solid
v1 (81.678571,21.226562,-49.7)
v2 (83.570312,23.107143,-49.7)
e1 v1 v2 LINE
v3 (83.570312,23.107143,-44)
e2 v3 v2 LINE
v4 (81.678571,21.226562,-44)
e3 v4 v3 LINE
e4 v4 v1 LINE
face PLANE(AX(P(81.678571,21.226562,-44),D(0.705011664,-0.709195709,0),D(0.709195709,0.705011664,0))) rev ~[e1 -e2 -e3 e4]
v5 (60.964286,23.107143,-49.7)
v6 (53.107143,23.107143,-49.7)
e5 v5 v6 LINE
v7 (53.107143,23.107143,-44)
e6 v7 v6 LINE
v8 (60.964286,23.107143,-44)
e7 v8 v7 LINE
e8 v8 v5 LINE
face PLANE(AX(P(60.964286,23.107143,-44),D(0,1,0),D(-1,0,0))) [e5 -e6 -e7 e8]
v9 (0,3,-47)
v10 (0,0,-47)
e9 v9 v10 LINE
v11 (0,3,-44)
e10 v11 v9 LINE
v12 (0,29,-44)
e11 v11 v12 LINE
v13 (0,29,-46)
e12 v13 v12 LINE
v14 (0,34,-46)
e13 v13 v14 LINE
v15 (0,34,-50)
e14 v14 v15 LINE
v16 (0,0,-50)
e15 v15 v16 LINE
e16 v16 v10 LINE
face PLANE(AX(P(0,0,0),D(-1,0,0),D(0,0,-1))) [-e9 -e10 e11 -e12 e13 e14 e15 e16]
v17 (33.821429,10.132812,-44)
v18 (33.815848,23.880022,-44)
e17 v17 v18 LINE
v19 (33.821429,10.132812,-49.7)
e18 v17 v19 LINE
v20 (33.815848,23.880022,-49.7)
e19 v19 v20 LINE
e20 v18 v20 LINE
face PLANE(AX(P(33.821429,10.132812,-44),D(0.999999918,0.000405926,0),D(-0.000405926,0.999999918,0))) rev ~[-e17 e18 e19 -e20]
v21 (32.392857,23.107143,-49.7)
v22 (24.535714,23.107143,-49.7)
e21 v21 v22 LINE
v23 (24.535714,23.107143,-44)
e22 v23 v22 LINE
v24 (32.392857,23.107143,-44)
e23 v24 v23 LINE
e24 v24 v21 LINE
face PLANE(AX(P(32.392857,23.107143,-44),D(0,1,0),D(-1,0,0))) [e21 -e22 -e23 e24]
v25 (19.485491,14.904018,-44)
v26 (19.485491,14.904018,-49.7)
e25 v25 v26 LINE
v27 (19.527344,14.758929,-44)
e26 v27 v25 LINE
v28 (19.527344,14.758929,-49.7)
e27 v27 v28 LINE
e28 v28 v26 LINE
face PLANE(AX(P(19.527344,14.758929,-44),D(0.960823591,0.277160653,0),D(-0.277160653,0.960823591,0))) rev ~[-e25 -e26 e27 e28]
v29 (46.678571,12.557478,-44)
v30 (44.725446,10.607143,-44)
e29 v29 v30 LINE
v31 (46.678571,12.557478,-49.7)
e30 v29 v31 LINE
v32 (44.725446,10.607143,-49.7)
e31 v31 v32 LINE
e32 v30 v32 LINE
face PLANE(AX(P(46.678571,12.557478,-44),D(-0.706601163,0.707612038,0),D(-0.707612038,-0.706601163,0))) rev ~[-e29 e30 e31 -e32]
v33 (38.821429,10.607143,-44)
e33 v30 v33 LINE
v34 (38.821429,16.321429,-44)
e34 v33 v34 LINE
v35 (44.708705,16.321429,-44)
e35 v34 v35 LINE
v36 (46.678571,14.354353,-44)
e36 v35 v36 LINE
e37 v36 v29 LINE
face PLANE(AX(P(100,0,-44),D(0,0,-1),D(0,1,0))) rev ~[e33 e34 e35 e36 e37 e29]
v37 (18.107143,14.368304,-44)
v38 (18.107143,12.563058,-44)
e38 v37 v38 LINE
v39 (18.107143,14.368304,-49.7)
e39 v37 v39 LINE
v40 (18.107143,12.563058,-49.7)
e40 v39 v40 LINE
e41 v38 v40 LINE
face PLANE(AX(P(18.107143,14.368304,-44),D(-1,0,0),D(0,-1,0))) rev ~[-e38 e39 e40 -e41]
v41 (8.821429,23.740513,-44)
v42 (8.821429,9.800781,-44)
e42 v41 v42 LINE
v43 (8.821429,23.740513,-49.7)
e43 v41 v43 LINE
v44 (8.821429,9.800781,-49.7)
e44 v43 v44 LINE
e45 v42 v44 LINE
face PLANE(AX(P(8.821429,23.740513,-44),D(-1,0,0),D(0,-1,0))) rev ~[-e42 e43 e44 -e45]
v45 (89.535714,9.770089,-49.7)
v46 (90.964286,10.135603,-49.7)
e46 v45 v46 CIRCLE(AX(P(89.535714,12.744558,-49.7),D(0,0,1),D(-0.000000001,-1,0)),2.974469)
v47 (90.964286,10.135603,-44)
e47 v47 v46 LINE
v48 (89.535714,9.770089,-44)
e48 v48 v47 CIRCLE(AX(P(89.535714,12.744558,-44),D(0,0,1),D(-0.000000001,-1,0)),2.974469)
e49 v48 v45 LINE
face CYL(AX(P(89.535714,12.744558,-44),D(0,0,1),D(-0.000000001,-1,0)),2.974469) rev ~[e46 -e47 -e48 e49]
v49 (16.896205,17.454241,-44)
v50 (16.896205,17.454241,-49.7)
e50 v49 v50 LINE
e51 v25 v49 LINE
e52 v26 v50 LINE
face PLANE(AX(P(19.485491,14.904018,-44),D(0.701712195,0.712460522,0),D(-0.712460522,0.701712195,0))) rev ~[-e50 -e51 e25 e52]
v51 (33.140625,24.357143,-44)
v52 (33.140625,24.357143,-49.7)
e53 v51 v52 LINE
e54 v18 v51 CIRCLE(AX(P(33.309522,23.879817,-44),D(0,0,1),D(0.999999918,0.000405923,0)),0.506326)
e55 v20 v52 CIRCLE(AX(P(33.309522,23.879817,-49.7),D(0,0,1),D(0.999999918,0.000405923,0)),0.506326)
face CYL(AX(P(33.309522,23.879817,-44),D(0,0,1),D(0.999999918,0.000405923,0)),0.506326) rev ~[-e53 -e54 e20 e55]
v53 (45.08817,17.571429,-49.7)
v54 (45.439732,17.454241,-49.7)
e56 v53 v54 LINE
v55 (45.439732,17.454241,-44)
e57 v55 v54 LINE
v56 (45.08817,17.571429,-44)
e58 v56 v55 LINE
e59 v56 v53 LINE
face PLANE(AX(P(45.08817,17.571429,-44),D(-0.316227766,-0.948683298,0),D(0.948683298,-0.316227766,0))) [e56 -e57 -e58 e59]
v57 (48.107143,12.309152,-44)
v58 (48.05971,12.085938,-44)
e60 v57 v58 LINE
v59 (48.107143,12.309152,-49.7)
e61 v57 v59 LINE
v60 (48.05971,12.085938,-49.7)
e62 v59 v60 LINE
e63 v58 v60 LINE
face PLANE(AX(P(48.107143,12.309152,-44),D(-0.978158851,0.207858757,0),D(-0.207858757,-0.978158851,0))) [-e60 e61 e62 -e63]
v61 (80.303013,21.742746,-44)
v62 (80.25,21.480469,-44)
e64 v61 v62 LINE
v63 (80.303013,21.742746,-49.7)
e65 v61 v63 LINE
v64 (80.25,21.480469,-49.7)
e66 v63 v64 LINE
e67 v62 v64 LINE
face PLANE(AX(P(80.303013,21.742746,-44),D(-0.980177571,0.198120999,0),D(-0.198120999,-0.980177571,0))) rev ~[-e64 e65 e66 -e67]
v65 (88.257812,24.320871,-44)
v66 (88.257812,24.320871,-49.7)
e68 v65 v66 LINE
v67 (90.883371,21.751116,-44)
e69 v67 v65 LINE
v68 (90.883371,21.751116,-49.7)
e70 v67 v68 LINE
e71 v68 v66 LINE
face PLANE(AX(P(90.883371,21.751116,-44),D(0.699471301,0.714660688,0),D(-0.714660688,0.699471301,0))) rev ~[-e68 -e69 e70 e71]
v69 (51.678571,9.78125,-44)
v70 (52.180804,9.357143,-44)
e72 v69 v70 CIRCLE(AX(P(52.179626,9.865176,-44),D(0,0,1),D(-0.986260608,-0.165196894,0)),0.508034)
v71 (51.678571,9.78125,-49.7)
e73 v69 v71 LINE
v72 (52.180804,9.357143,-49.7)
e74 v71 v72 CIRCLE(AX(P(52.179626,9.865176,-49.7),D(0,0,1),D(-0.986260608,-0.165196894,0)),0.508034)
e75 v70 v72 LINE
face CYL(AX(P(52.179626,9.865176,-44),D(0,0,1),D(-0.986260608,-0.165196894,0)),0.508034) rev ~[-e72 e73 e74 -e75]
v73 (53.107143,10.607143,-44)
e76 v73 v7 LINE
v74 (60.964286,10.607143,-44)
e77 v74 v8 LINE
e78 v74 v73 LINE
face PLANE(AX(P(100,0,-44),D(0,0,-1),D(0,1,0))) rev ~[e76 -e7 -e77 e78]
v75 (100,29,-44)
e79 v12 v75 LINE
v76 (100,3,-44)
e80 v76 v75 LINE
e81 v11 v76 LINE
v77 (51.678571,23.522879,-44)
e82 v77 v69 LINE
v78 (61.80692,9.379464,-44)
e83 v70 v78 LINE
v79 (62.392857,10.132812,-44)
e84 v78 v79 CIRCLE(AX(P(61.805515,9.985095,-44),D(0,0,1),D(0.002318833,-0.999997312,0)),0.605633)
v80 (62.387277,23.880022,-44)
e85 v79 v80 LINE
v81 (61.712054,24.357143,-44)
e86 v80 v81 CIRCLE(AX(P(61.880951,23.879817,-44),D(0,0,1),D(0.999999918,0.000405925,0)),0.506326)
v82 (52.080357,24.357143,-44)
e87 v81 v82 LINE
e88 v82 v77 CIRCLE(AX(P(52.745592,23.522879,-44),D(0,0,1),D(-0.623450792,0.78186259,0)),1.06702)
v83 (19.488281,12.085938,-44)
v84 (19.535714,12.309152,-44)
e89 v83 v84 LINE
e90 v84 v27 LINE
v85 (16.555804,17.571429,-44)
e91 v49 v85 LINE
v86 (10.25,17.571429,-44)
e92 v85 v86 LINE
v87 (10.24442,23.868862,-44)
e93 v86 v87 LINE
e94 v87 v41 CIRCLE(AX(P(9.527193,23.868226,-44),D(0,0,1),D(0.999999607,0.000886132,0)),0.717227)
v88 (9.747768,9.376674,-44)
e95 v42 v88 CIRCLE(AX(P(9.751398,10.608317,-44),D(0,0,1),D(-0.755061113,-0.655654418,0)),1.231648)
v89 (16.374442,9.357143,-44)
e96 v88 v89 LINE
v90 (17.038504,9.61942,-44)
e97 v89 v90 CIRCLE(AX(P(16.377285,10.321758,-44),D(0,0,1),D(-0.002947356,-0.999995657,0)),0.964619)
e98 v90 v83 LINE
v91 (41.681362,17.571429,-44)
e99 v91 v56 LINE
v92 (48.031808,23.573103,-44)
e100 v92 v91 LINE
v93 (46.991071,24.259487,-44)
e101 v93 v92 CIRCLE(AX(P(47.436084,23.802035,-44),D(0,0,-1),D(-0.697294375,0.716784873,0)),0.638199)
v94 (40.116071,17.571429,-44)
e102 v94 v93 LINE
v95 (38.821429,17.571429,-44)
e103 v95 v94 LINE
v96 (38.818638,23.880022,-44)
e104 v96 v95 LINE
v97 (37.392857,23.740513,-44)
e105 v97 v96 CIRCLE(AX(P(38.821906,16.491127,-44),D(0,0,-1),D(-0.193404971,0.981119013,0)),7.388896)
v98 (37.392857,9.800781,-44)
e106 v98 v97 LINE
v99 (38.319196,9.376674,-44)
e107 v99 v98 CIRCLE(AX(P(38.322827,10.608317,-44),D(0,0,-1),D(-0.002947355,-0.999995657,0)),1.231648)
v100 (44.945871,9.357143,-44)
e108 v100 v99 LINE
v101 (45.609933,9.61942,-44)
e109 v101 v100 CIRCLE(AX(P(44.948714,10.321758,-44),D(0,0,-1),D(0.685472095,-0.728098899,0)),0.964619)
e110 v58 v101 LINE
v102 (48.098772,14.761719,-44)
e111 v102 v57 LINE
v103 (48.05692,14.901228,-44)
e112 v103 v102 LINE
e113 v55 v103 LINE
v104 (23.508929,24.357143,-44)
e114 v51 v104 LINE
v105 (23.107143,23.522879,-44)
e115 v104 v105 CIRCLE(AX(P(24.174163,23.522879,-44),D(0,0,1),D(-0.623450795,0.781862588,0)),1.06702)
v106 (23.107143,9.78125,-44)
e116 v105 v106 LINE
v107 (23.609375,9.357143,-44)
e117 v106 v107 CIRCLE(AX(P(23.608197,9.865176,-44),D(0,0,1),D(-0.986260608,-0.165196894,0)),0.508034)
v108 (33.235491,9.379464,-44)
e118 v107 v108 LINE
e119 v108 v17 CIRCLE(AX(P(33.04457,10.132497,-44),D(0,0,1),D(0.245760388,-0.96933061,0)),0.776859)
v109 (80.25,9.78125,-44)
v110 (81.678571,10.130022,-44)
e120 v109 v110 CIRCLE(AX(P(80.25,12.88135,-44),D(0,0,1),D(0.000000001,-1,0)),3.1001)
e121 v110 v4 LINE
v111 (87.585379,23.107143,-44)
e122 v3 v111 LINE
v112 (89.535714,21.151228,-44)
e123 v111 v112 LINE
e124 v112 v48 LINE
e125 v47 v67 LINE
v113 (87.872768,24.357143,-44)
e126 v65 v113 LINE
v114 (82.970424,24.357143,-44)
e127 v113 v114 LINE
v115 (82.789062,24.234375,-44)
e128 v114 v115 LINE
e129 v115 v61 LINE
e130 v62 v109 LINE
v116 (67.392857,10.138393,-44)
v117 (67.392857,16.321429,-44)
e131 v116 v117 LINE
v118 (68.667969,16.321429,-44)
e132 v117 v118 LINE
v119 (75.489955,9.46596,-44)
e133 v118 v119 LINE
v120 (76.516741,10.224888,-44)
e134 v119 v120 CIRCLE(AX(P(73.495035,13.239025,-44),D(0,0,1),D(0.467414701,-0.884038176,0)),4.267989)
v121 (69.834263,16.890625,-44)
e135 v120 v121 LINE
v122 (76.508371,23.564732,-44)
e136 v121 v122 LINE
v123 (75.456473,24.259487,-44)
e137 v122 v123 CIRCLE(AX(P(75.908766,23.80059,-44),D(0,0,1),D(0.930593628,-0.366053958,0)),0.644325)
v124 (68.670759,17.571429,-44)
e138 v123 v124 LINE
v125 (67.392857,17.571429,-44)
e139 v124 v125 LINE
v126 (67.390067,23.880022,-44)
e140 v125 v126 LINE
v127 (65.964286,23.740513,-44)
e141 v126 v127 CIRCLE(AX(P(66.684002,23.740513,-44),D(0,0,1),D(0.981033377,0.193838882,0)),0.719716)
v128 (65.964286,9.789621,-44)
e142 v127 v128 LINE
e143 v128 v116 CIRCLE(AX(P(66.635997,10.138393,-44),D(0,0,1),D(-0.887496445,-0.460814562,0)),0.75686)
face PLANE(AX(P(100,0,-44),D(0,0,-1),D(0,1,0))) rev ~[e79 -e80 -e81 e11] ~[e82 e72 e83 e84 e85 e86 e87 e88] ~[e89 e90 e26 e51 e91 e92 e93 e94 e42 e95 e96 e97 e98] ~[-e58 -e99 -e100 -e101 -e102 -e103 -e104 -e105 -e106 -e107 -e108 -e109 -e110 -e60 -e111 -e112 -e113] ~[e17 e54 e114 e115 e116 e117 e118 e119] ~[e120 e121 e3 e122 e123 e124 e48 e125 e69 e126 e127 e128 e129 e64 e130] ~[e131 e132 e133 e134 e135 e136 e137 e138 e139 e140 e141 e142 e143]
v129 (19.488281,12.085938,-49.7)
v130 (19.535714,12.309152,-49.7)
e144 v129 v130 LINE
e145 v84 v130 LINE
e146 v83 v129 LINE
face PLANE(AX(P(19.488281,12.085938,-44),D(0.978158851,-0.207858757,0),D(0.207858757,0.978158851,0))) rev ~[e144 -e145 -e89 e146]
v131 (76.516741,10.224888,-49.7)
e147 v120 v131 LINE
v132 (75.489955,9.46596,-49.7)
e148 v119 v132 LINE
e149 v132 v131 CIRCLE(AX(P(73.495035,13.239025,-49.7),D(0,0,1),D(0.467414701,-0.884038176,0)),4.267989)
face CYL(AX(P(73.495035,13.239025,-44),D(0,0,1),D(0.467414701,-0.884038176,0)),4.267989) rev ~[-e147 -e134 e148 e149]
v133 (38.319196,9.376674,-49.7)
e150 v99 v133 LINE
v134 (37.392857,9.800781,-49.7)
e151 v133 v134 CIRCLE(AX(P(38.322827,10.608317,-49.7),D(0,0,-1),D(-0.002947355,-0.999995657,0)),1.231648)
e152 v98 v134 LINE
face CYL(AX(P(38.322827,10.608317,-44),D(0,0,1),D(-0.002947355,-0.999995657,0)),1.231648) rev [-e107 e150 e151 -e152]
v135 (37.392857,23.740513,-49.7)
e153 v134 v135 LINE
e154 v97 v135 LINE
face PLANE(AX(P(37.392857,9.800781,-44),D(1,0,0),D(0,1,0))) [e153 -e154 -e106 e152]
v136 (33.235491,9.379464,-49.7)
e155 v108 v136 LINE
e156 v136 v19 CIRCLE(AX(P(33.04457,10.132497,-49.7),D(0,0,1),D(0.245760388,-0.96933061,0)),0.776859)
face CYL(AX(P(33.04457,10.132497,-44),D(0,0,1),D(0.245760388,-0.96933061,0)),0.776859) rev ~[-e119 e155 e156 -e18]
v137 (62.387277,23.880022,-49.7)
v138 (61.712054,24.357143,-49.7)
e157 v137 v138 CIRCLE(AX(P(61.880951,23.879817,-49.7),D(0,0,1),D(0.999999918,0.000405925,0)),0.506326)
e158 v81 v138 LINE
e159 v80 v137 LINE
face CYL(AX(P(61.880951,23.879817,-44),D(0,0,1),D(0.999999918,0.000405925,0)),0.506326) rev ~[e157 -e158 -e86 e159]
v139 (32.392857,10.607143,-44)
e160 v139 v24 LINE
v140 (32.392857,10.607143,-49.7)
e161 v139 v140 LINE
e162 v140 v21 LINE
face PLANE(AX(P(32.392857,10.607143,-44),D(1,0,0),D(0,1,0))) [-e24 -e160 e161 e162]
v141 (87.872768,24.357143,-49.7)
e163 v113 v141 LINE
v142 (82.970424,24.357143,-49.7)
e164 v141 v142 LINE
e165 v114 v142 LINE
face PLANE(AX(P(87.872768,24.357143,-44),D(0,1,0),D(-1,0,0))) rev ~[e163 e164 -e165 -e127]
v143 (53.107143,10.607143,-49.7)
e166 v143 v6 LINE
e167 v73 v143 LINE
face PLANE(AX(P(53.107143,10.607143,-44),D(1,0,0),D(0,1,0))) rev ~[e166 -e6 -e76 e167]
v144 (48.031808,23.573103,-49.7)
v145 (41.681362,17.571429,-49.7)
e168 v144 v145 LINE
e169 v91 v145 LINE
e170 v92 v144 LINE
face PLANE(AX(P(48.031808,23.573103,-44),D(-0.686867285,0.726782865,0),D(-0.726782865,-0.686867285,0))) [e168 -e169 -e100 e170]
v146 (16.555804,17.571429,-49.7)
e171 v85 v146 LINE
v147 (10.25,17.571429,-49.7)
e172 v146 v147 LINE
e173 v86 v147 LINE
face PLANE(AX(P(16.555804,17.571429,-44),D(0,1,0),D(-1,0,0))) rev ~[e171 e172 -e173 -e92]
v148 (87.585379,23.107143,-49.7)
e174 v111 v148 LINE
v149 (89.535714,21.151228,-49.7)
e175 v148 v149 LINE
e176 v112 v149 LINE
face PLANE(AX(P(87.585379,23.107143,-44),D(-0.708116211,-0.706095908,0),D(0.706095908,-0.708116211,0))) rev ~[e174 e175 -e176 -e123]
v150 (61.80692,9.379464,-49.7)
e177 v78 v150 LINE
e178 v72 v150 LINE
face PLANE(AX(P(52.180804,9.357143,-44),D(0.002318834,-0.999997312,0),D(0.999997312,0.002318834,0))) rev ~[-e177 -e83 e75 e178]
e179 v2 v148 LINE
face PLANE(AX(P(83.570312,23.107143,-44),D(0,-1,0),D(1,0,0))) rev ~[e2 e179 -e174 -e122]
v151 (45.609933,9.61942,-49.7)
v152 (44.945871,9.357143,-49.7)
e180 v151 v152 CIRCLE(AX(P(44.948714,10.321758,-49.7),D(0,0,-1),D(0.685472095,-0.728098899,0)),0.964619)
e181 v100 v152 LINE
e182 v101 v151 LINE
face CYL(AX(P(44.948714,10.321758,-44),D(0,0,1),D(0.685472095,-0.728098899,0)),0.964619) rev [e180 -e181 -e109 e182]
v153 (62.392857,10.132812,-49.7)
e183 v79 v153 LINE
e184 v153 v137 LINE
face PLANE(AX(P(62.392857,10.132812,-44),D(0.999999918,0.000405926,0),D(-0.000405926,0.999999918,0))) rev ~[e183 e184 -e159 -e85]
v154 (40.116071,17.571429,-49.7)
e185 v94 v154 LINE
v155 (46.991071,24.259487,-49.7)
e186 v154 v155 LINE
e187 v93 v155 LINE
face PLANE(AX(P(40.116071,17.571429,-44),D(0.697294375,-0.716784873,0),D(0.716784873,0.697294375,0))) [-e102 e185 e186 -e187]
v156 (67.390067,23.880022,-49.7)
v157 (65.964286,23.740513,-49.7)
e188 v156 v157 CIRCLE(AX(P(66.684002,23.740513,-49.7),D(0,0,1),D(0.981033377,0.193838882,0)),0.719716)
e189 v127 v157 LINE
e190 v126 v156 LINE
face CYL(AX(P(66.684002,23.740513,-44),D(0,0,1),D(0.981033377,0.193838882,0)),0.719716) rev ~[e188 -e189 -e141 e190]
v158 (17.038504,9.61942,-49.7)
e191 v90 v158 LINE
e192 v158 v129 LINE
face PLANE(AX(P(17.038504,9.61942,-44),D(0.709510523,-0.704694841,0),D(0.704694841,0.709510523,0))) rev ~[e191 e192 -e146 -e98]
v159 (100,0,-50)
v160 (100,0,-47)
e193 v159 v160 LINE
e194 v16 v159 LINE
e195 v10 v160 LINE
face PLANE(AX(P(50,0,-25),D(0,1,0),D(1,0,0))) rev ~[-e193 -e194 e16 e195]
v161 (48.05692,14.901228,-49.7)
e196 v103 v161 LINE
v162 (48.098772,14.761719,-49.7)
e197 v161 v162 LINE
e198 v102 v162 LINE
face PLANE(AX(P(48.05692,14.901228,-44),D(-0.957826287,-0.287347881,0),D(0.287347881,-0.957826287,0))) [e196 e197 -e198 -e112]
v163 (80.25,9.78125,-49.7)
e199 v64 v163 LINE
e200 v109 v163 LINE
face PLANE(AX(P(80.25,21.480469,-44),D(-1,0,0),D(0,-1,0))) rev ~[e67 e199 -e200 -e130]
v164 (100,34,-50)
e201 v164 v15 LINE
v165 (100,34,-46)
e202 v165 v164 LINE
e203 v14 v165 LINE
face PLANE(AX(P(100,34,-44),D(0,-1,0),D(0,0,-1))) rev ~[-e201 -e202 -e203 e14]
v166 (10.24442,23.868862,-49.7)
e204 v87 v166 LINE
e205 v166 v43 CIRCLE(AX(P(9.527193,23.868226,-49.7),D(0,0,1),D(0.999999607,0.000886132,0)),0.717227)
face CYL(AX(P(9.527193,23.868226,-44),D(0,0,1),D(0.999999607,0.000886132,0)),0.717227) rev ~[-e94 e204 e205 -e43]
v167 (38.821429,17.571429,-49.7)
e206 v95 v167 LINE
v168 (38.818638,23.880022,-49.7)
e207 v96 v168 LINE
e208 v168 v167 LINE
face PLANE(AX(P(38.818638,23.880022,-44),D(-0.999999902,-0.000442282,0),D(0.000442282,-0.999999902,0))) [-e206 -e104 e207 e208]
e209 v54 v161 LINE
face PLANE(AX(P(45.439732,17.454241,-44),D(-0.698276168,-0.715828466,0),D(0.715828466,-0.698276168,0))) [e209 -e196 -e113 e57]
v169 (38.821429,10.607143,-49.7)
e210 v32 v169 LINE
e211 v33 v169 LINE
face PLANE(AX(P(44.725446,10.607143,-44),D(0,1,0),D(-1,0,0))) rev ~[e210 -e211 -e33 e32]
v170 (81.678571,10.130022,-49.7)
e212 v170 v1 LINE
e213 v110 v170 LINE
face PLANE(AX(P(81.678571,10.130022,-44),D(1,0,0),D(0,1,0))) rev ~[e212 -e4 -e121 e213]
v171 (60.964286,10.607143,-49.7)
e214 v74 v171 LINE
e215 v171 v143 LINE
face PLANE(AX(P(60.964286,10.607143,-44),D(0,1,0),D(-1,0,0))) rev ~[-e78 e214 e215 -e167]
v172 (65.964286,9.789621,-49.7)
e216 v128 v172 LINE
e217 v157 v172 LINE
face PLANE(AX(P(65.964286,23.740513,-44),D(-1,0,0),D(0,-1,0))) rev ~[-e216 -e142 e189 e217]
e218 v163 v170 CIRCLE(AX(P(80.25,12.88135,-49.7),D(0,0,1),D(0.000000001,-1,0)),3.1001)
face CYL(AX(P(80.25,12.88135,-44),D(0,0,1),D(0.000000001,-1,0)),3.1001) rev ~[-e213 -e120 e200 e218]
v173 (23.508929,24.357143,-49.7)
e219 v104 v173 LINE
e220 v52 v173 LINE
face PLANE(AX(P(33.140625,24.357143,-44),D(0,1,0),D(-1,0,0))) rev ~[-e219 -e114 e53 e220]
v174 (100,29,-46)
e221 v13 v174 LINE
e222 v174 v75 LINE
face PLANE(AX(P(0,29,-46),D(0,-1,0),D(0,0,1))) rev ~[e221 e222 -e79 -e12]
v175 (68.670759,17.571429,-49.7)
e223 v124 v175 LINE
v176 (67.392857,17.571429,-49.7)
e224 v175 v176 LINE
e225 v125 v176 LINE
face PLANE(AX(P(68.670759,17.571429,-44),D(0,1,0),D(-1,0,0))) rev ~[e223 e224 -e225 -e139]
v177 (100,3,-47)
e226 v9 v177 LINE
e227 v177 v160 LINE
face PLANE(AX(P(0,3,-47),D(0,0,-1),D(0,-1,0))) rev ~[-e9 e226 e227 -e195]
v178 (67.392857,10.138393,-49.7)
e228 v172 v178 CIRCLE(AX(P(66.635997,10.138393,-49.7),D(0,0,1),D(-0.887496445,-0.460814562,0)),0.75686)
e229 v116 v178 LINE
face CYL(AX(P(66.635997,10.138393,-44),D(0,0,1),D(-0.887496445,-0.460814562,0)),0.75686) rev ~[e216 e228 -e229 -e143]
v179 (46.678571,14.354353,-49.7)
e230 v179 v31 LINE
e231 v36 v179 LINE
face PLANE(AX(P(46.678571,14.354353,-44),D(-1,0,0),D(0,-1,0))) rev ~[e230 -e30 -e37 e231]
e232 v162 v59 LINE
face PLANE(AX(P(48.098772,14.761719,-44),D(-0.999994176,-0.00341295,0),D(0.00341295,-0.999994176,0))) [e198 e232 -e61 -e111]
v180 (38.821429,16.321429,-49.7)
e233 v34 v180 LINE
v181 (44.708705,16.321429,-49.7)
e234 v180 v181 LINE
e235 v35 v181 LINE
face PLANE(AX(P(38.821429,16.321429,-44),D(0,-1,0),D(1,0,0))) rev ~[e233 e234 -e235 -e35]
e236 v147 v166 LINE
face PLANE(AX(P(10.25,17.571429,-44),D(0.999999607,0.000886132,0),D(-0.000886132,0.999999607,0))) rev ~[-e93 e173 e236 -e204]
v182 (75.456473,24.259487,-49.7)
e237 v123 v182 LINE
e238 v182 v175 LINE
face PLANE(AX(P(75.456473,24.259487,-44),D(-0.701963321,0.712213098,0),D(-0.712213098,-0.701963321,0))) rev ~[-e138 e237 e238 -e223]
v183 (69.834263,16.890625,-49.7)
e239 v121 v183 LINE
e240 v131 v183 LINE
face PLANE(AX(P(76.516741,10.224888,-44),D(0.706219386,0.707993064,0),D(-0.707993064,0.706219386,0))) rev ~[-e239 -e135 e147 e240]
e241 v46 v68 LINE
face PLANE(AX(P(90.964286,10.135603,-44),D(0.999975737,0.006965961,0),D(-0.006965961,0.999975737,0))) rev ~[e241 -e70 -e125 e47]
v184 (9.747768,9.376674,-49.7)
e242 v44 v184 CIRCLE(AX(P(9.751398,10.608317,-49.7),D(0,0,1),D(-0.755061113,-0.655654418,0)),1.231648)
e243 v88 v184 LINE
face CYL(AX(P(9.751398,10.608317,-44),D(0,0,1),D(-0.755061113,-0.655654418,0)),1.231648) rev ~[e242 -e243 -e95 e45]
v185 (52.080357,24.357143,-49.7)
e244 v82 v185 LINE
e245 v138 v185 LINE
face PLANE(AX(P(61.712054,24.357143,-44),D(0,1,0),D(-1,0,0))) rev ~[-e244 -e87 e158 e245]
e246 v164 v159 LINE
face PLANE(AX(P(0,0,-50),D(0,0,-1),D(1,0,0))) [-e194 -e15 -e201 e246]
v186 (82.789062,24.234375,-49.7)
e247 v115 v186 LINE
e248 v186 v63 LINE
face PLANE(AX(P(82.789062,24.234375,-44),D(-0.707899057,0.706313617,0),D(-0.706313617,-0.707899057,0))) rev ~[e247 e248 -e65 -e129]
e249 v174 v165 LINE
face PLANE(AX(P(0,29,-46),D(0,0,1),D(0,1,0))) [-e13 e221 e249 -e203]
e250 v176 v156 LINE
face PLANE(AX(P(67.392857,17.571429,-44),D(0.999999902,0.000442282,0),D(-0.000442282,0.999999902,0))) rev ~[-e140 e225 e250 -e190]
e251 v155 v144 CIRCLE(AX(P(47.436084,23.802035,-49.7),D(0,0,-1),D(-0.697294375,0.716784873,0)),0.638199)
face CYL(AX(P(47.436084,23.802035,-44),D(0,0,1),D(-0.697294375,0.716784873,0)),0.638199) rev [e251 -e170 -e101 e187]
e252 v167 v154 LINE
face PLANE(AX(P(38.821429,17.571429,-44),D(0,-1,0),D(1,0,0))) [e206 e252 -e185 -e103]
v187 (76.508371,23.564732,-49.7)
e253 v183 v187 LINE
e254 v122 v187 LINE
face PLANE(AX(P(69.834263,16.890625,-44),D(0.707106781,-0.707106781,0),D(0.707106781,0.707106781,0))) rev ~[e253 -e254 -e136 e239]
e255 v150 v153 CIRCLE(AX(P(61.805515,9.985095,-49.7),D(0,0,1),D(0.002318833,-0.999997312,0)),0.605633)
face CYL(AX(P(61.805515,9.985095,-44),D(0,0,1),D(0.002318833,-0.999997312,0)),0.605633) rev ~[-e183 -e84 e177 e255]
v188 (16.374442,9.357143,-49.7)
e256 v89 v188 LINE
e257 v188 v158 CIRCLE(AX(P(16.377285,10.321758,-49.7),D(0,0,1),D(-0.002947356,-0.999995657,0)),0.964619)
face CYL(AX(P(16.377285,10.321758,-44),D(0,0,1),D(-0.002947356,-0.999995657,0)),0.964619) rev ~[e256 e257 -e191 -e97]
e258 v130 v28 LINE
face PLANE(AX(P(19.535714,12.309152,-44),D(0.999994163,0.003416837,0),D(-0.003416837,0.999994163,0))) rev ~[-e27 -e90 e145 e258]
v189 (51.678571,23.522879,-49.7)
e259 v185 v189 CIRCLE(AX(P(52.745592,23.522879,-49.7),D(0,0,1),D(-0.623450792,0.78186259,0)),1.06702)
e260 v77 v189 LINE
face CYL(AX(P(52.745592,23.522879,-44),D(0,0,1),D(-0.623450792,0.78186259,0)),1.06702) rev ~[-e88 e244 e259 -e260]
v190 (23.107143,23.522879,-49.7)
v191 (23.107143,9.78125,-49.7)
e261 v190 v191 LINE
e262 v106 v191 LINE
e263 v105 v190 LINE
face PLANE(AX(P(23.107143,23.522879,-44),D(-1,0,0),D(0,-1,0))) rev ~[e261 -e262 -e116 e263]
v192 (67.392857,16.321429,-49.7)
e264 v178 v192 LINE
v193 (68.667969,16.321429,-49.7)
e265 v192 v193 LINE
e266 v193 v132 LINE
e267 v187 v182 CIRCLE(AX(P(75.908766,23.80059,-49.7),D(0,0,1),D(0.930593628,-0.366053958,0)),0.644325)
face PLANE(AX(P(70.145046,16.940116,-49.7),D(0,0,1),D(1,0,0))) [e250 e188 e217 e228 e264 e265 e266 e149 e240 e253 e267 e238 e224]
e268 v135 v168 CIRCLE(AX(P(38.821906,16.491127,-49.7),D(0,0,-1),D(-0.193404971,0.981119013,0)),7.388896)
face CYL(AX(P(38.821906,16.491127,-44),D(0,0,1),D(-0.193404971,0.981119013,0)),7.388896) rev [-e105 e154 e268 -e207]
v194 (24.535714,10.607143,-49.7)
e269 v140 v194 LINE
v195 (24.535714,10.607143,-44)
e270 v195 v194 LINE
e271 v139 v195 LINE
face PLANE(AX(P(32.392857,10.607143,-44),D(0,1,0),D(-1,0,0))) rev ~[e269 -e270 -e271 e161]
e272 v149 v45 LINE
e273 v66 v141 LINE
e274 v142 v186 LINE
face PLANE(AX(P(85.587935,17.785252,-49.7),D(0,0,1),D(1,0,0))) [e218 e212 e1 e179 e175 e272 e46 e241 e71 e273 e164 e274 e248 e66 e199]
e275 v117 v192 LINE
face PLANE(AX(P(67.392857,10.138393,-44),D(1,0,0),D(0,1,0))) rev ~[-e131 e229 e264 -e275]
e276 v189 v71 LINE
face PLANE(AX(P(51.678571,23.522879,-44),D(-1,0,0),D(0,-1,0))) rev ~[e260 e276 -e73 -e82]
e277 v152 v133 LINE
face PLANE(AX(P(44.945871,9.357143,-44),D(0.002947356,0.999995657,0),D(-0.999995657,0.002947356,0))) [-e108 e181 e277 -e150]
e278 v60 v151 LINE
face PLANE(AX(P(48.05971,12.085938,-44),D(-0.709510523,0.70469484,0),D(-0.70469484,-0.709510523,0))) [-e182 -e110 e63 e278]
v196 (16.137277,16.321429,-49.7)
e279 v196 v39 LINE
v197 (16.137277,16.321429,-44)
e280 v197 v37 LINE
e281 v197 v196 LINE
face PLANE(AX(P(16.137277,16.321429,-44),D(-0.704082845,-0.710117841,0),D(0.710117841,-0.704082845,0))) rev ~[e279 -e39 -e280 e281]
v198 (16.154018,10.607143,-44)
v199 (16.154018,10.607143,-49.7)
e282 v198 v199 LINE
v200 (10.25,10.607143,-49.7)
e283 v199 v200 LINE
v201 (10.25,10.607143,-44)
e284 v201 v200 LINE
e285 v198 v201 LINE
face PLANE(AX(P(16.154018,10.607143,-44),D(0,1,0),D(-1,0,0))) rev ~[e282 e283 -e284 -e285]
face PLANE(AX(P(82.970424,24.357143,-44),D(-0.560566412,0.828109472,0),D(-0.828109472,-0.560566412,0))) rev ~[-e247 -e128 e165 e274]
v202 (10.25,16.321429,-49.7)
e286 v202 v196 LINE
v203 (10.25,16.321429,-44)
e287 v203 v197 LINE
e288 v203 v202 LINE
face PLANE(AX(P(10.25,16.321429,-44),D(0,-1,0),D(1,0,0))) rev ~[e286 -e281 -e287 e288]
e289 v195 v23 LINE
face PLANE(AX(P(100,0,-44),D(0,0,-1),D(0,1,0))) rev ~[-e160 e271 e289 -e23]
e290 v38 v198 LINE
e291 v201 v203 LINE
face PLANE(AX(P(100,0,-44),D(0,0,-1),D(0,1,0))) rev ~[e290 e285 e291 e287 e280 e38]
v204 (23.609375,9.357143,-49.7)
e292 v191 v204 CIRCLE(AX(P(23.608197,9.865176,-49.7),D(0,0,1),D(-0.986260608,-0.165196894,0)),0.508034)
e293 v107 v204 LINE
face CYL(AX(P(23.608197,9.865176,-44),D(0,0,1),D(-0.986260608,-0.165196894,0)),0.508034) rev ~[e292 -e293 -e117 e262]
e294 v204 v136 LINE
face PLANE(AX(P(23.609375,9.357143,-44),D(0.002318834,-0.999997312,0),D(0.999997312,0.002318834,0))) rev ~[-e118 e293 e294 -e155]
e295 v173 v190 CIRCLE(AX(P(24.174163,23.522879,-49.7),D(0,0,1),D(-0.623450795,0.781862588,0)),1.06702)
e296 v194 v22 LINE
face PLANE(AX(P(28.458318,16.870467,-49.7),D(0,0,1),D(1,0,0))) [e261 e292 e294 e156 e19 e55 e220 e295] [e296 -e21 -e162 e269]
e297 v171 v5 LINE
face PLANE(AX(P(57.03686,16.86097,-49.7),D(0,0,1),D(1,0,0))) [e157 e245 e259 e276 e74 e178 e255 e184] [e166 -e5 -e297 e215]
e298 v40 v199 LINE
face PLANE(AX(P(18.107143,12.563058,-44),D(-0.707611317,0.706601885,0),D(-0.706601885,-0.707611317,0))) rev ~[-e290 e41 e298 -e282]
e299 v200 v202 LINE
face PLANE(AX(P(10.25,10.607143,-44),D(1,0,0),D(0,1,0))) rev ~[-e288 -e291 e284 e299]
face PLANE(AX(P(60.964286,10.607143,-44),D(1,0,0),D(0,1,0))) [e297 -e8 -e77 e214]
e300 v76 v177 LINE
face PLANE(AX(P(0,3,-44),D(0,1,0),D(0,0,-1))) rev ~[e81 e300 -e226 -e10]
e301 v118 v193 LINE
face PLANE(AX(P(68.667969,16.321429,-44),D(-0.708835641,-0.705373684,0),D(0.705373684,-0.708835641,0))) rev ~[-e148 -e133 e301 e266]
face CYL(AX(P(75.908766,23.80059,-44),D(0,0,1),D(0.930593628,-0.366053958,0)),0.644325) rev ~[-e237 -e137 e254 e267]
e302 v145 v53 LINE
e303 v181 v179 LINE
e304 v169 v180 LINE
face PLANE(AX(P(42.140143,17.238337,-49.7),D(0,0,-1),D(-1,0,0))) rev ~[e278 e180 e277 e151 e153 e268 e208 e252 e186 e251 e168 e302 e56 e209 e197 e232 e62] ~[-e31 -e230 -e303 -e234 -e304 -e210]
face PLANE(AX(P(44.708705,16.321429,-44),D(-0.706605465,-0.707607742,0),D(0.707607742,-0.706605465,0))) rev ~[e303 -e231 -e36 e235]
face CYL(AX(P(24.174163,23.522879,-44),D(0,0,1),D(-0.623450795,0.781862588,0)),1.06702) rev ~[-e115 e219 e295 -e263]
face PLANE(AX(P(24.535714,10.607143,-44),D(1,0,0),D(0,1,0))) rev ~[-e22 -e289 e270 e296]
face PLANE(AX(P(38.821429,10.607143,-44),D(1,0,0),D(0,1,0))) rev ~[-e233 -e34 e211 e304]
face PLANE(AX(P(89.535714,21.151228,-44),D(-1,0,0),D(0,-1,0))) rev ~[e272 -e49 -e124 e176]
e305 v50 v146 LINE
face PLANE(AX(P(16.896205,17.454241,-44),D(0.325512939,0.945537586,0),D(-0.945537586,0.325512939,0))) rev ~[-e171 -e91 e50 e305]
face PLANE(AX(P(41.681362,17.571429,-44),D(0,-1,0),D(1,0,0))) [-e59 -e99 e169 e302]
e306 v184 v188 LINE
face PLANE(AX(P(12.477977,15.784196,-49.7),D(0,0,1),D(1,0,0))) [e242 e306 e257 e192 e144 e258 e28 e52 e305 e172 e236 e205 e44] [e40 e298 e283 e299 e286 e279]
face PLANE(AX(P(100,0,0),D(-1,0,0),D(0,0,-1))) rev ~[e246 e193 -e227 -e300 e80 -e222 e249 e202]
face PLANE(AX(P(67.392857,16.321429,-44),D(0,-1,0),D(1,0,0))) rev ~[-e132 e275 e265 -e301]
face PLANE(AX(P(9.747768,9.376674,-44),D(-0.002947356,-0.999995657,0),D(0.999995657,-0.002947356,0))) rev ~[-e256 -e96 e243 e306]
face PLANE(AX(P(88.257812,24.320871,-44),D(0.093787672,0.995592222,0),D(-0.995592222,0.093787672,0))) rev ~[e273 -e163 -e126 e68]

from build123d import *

# Parameters (mm, degrees)
SKETCH1_W           = 100
SKETCH1_H           = 50
BOSS_EXTRUDE1_DEPTH = 6
SKETCH2_W           = 10
SKETCH2_H           = 3
CUT_EXTRUDE1_DEPTH  = 101
SKETCH3_W           = 6
SKETCH3_H           = 34
BOSS_EXTRUDE2_DEPTH = 100
SKETCH4_W           = 2
SKETCH4_H           = 5
CUT_EXTRUDE2_DEPTH  = 101
SKETCH5_W           = 7.857142857
SKETCH5_H           = 12.5
CUT_EXTRUDE3_DEPTH  = 5.7
CUT_EXTRUDE4_DEPTH  = 5.5
CUT_EXTRUDE5_DEPTH  = 101.0000001


with BuildPart() as part:
    # Sketch1 → Boss-Extrude1 (new body)
    with BuildSketch(Plane(origin=(0, 0, 0), x_dir=(1, 0, 0), z_dir=(0, 1, 0))):
        with Locations((50, 25)):
            Rectangle(SKETCH1_W, SKETCH1_H)
    extrude(amount=BOSS_EXTRUDE1_DEPTH)

    # Sketch2 → Cut-Extrude1 (cut, through all)
    with BuildSketch(Plane(origin=(100, 0, 0), x_dir=(0, 0, -1), z_dir=(1, 0, 0))):
        with Locations((5, 1.5)):
            Rectangle(SKETCH2_W, SKETCH2_H)
    extrude(amount=-CUT_EXTRUDE1_DEPTH, mode=Mode.SUBTRACT)

    # Sketch3 → Boss-Extrude2 (add)
    with BuildSketch(Plane(origin=(100, 0, 0), x_dir=(0, 0, -1), z_dir=(1, 0, 0))):
        with Locations((47, 17)):
            Rectangle(SKETCH3_W, SKETCH3_H)
    extrude(amount=-BOSS_EXTRUDE2_DEPTH)

    # Sketch4 → Cut-Extrude2 (cut, through all)
    with BuildSketch(Plane.ZY):
        with Locations((-45, 31.5)):
            Rectangle(SKETCH4_W, SKETCH4_H)
    extrude(amount=-CUT_EXTRUDE2_DEPTH, mode=Mode.SUBTRACT)

    # Sketch5 → Cut-Extrude3 (cut)
    with BuildSketch(Plane(origin=(0, 0, -44), x_dir=(-1, 0, 0), z_dir=(0, 0, -1))):
        with BuildLine():
            Line((-45.088169643, 17.571428571), (-45.439732143, 17.454241071))
            Line((-45.439732143, 17.454241071), (-48.056919643, 14.901227679))
            Line((-48.056919643, 14.901227679), (-48.098772321, 14.76171875))
            Line((-48.098772321, 14.76171875), (-48.107142857, 12.309151786))
            Line((-48.107142857, 12.309151786), (-48.059709821, 12.0859375))
            Line((-48.059709821, 12.0859375), (-45.609933036, 9.619419643))
            ThreePointArc((-45.609933036, 9.619419643), (-45.303061085, 9.424580045), (-44.945870536, 9.357142857))
            Line((-44.945870536, 9.357142857), (-38.319196429, 9.376674107))
            ThreePointArc((-38.319196429, 9.376674107), (-37.810119286, 9.488456034), (-37.392857143, 9.80078125))
            Line((-37.392857143, 9.80078125), (-37.392857143, 23.740513393))
            ThreePointArc((-37.392857143, 23.740513393), (-38.102358714, 23.844903984), (-38.818638393, 23.880022321))
            Line((-38.818638393, 23.880022321), (-38.821428571, 17.571428571))
            Line((-38.821428571, 17.571428571), (-40.116071429, 17.571428571))
            Line((-40.116071429, 17.571428571), (-46.991071429, 24.259486607))
            ThreePointArc((-46.991071429, 24.259486607), (-47.787451466, 24.334800239), (-48.031808036, 23.573102679))
            Line((-48.031808036, 23.573102679), (-41.681361607, 17.571428571))
            Line((-41.681361607, 17.571428571), (-45.088169643, 17.571428571))
        make_face()
        Polygon((-46.678571429, 12.557477679), (-44.725446429, 10.607142857), (-38.821428571, 10.607142857), (-38.821428571, 16.321428571), (-44.708705357, 16.321428571), (-46.678571429, 14.354352679), align=None, mode=Mode.SUBTRACT)
        with BuildLine():
            Line((-17.038504464, 9.619419643), (-19.48828125, 12.0859375))
            Line((-19.48828125, 12.0859375), (-19.535714286, 12.309151786))
            Line((-19.535714286, 12.309151786), (-19.52734375, 14.758928571))
            Line((-19.52734375, 14.758928571), (-19.485491071, 14.904017857))
            Line((-19.485491071, 14.904017857), (-16.896205357, 17.454241071))
            Line((-16.896205357, 17.454241071), (-16.555803571, 17.571428571))
            Line((-16.555803571, 17.571428571), (-10.25, 17.571428571))
            Line((-10.25, 17.571428571), (-10.244419643, 23.868861607))
            ThreePointArc((-10.244419643, 23.868861607), (-9.462763686, 24.582553037), (-8.821428571, 23.740513393))
            Line((-8.821428571, 23.740513393), (-8.821428571, 9.80078125))
            ThreePointArc((-8.821428571, 9.80078125), (-9.238690714, 9.488456034), (-9.747767857, 9.376674107))
            Line((-9.747767857, 9.376674107), (-16.374441964, 9.357142857))
            ThreePointArc((-16.374441964, 9.357142857), (-16.731632514, 9.424580045), (-17.038504464, 9.619419643))
        make_face()
        Polygon((-18.107142857, 12.563058036), (-16.154017857, 10.607142857), (-10.25, 10.607142857), (-10.25, 16.321428571), (-16.137276786, 16.321428571), (-18.107142857, 14.368303571), align=None, mode=Mode.SUBTRACT)
        with BuildLine():
            Line((-33.821428571, 10.1328125), (-33.815848214, 23.880022321))
            ThreePointArc((-33.815848214, 23.880022321), (-33.601713039, 24.293327013), (-33.140625, 24.357142857))
            Line((-33.140625, 24.357142857), (-23.508928571, 24.357142857))
            ThreePointArc((-23.508928571, 24.357142857), (-23.212822653, 23.985866281), (-23.107142857, 23.522879464))
            Line((-23.107142857, 23.522879464), (-23.107142857, 9.78125))
            ThreePointArc((-23.107142857, 9.78125), (-23.280423047, 9.477022359), (-23.609375, 9.357142857))
            Line((-23.609375, 9.357142857), (-33.235491071, 9.379464286))
            ThreePointArc((-33.235491071, 9.379464286), (-33.657785084, 9.655552078), (-33.821428571, 10.1328125))
        make_face()
        with Locations((-28.464285715, 16.857142857)):
            Rectangle(SKETCH5_W, SKETCH5_H, mode=Mode.SUBTRACT)
        with BuildLine():
            Line((-62.392857143, 10.1328125), (-62.387276786, 23.880022321))
            ThreePointArc((-62.387276786, 23.880022321), (-62.17314161, 24.293327013), (-61.712053571, 24.357142857))
            Line((-61.712053571, 24.357142857), (-52.080357143, 24.357142857))
            ThreePointArc((-52.080357143, 24.357142857), (-51.784251224, 23.985866281), (-51.678571429, 23.522879464))
            Line((-51.678571429, 23.522879464), (-51.678571429, 9.78125))
            ThreePointArc((-51.678571429, 9.78125), (-51.851851619, 9.477022359), (-52.180803571, 9.357142857))
            Line((-52.180803571, 9.357142857), (-61.806919643, 9.379464286))
            ThreePointArc((-61.806919643, 9.379464286), (-62.283572717, 9.613272807), (-62.392857143, 10.1328125))
        make_face()
        with Locations((-57.035714286, 16.857142857)):
            Rectangle(SKETCH5_W, SKETCH5_H, mode=Mode.SUBTRACT)
        with BuildLine():
            Line((-76.516741071, 10.224888393), (-69.834263393, 16.890625))
            Line((-69.834263393, 16.890625), (-76.508370536, 23.564732143))
            ThreePointArc((-76.508370536, 23.564732143), (-76.263865977, 24.33823157), (-75.456473214, 24.259486607))
            Line((-75.456473214, 24.259486607), (-68.670758929, 17.571428571))
            Line((-68.670758929, 17.571428571), (-67.392857143, 17.571428571))
            Line((-67.392857143, 17.571428571), (-67.390066964, 23.880022321))
            ThreePointArc((-67.390066964, 23.880022321), (-66.613914042, 24.456808533), (-65.964285714, 23.740513393))
            Line((-65.964285714, 23.740513393), (-65.964285714, 9.789620536))
            ThreePointArc((-65.964285714, 9.789620536), (-66.815504738, 9.403127861), (-67.392857143, 10.138392857))
            Line((-67.392857143, 10.138392857), (-67.392857143, 16.321428571))
            Line((-67.392857143, 16.321428571), (-68.66796875, 16.321428571))
            Line((-68.66796875, 16.321428571), (-75.489955357, 9.465959821))
            ThreePointArc((-75.489955357, 9.465959821), (-76.031889018, 9.806810078), (-76.516741071, 10.224888393))
        make_face()
        with BuildLine():
            Line((-81.678571429, 10.130022321), (-81.678571429, 21.2265625))
            Line((-81.678571429, 21.2265625), (-83.5703125, 23.107142857))
            Line((-83.5703125, 23.107142857), (-87.585379464, 23.107142857))
            Line((-87.585379464, 23.107142857), (-89.535714286, 21.151227679))
            Line((-89.535714286, 21.151227679), (-89.535714286, 9.770089286))
            ThreePointArc((-89.535714286, 9.770089286), (-90.273009404, 9.862916097), (-90.964285714, 10.135602679))
            Line((-90.964285714, 10.135602679), (-90.883370536, 21.751116071))
            Line((-90.883370536, 21.751116071), (-88.2578125, 24.320870536))
            Line((-88.2578125, 24.320870536), (-87.872767857, 24.357142857))
            Line((-87.872767857, 24.357142857), (-82.970424107, 24.357142857))
            Line((-82.970424107, 24.357142857), (-82.7890625, 24.234375))
            Line((-82.7890625, 24.234375), (-80.303013393, 21.742745536))
            Line((-80.303013393, 21.742745536), (-80.25, 21.48046875))
            Line((-80.25, 21.48046875), (-80.25, 9.78125))
            ThreePointArc((-80.25, 9.78125), (-80.985264996, 9.869705022), (-81.678571429, 10.130022321))
        make_face()
    extrude(amount=CUT_EXTRUDE3_DEPTH, mode=Mode.SUBTRACT)

    # Sketch8 → Cut-Extrude4 (cut)
    with BuildSketch(Plane(origin=(0, 6, 0), x_dir=(1, 0, 0), z_dir=(0, 1, 0))):
        with BuildLine():
            Line((7.011617647, 30.077205882), (8.955082743, 27.33260299))
            add(Edge.make_bspline(
                [(8.955082743, 27.33260299), (9.12959235, 26.730722395), (8.207708735, 26.573406529), (7.899470003, 26.933823529)],
                knots=[0, 0, 0, 0, 1, 1, 1, 1], degree=3))
            add(Edge.make_bspline(
                [(7.899470003, 26.933823529), (6.967481131, 27.995956124), (6.173874947, 29.162344961)],
                knots=[0, 0, 0, 1, 1, 1], degree=2))
            add(Edge.make_bspline(
                [(6.173874947, 29.162344961), (5.827065663, 29.66494419), (6.530628947, 30.242627585), (7.011617647, 30.077205882)],
                knots=[0, 0, 0, 0, 1, 1, 1, 1], degree=3))
        make_face()
        with BuildLine():
            Line((8.476184036, 31.013434386), (10.320441176, 28.506054806))
            add(Edge.make_bspline(
                [(10.320441176, 28.506054806), (10.75287522, 28.022402696), (9.844480118, 27.32594185), (9.464423283, 27.806698869)],
                knots=[0, 0, 0, 0, 1, 1, 1, 1], degree=3))
            add(Edge.make_bspline(
                [(7.548449232, 30.408088235), (8.369245022, 29.00368602), (9.464423283, 27.806698869)],
                knots=[0, 0, 0, 1, 1, 1], degree=2))
            add(Edge.make_bspline(
                [(7.548449232, 30.408088235), (7.420862108, 30.780822958), (7.657281624, 31.572935659), (8.169705882, 31.400735294)],
                knots=[0, 0, 0, 0, 1, 1, 1, 1], degree=3))
            add(Edge.make_bspline(
                [(8.169705882, 31.400735294), (8.365163665, 31.240936083), (8.476184036, 31.013434386)],
                knots=[0, 0, 0, 1, 1, 1], degree=2))
        make_face()
        Polygon((10.816764706, 31.400735294), (10.155, 32.724264706), (9.327794118, 32.393382353), (9.162352941, 31.235294118), (9.824117647, 30.408088235), align=None)
        with BuildLine():
            Line((12.802058824, 32.227941176), (11.643970588, 33.716911765))
            add(Edge.make_bspline(
                [(11.643970588, 33.716911765), (10.801410064, 33.411012177), (11.092331374, 32.550744981)],
                knots=[0, 0, 0, 1, 1, 1], degree=2))
            Line((11.092331374, 32.550744981), (11.643970588, 31.731617647))
            Line((11.643970588, 31.731617647), (12.802058824, 32.227941176))
        make_face()
        with BuildLine():
            Line((13.193009945, 29.973529412), (13.854774651, 28.815441176))
            Line((13.854774651, 28.815441176), (8.560657004, 26.333823529))
            Line((8.560657004, 26.333823529), (7.402568768, 26.830147059))
            Line((7.402568768, 26.830147059), (9.056980533, 19.881617647))
            Line((9.056980533, 19.881617647), (13.689333474, 20.047058824))
            add(Edge.make_bspline(
                [(13.689333474, 20.047058824), (12.450227116, 27.171920383), (13.777231511, 23.836713066), (15.840068768, 28.65)],
                knots=[0, 0, 0, 0, 1, 1, 1, 1], degree=3))
            Line((15.840068768, 28.65), (13.854774651, 31.627941176))
            Line((13.854774651, 31.627941176), (10.711392298, 30.138970588))
            Line((10.711392298, 30.138970588), (12.365804063, 29.477205882))
            Line((12.365804063, 29.477205882), (13.193009945, 29.973529412))
        make_face()
        Polygon((31.240068768, 25.85), (31.240068768, 28.65), (28.440068768, 28.65), (28.440068768, 31.45), (25.640068768, 31.45), (25.640068768, 28.65), (22.840068768, 28.65), (22.840068768, 25.85), (25.640068768, 25.85), (25.640068768, 23.05), (28.440068768, 23.05), (28.440068768, 25.85), align=None)
        Polygon((52.041417767, 30.75), (42.541417767, 30.75), (42.541417767, 33.75), (37.990068768, 27.25), (42.541417767, 20.75), (42.541417767, 23.75), (52.041417767, 23.75), align=None)
        Polygon((60.419322104, 21.339322104), (59.041417767, 29.153805922), (61.16273811, 27.032485579), (67.880252532, 33.75), (72.83, 28.800252532), (66.112485579, 22.08273811), (68.233805922, 19.961417767), align=None)
        Polygon((90.03, 33.75), (90.03, 24.25), (93.03, 24.25), (86.476783646, 19.661388509), (80.03, 24.25), (83.03, 24.25), (83.03, 33.75), align=None)
    extrude(amount=-CUT_EXTRUDE4_DEPTH, mode=Mode.SUBTRACT)

    # Sketch9 → Cut-Extrude5 (cut, through all)
    with BuildSketch(Plane.ZY):
        Polygon((0, 6), (-44, 6), (-44, 3), (-47, 3), (-47, 0), (-44, 0), (0, 0), align=None)
    extrude(amount=-CUT_EXTRUDE5_DEPTH, mode=Mode.SUBTRACT)


solid = part.part
